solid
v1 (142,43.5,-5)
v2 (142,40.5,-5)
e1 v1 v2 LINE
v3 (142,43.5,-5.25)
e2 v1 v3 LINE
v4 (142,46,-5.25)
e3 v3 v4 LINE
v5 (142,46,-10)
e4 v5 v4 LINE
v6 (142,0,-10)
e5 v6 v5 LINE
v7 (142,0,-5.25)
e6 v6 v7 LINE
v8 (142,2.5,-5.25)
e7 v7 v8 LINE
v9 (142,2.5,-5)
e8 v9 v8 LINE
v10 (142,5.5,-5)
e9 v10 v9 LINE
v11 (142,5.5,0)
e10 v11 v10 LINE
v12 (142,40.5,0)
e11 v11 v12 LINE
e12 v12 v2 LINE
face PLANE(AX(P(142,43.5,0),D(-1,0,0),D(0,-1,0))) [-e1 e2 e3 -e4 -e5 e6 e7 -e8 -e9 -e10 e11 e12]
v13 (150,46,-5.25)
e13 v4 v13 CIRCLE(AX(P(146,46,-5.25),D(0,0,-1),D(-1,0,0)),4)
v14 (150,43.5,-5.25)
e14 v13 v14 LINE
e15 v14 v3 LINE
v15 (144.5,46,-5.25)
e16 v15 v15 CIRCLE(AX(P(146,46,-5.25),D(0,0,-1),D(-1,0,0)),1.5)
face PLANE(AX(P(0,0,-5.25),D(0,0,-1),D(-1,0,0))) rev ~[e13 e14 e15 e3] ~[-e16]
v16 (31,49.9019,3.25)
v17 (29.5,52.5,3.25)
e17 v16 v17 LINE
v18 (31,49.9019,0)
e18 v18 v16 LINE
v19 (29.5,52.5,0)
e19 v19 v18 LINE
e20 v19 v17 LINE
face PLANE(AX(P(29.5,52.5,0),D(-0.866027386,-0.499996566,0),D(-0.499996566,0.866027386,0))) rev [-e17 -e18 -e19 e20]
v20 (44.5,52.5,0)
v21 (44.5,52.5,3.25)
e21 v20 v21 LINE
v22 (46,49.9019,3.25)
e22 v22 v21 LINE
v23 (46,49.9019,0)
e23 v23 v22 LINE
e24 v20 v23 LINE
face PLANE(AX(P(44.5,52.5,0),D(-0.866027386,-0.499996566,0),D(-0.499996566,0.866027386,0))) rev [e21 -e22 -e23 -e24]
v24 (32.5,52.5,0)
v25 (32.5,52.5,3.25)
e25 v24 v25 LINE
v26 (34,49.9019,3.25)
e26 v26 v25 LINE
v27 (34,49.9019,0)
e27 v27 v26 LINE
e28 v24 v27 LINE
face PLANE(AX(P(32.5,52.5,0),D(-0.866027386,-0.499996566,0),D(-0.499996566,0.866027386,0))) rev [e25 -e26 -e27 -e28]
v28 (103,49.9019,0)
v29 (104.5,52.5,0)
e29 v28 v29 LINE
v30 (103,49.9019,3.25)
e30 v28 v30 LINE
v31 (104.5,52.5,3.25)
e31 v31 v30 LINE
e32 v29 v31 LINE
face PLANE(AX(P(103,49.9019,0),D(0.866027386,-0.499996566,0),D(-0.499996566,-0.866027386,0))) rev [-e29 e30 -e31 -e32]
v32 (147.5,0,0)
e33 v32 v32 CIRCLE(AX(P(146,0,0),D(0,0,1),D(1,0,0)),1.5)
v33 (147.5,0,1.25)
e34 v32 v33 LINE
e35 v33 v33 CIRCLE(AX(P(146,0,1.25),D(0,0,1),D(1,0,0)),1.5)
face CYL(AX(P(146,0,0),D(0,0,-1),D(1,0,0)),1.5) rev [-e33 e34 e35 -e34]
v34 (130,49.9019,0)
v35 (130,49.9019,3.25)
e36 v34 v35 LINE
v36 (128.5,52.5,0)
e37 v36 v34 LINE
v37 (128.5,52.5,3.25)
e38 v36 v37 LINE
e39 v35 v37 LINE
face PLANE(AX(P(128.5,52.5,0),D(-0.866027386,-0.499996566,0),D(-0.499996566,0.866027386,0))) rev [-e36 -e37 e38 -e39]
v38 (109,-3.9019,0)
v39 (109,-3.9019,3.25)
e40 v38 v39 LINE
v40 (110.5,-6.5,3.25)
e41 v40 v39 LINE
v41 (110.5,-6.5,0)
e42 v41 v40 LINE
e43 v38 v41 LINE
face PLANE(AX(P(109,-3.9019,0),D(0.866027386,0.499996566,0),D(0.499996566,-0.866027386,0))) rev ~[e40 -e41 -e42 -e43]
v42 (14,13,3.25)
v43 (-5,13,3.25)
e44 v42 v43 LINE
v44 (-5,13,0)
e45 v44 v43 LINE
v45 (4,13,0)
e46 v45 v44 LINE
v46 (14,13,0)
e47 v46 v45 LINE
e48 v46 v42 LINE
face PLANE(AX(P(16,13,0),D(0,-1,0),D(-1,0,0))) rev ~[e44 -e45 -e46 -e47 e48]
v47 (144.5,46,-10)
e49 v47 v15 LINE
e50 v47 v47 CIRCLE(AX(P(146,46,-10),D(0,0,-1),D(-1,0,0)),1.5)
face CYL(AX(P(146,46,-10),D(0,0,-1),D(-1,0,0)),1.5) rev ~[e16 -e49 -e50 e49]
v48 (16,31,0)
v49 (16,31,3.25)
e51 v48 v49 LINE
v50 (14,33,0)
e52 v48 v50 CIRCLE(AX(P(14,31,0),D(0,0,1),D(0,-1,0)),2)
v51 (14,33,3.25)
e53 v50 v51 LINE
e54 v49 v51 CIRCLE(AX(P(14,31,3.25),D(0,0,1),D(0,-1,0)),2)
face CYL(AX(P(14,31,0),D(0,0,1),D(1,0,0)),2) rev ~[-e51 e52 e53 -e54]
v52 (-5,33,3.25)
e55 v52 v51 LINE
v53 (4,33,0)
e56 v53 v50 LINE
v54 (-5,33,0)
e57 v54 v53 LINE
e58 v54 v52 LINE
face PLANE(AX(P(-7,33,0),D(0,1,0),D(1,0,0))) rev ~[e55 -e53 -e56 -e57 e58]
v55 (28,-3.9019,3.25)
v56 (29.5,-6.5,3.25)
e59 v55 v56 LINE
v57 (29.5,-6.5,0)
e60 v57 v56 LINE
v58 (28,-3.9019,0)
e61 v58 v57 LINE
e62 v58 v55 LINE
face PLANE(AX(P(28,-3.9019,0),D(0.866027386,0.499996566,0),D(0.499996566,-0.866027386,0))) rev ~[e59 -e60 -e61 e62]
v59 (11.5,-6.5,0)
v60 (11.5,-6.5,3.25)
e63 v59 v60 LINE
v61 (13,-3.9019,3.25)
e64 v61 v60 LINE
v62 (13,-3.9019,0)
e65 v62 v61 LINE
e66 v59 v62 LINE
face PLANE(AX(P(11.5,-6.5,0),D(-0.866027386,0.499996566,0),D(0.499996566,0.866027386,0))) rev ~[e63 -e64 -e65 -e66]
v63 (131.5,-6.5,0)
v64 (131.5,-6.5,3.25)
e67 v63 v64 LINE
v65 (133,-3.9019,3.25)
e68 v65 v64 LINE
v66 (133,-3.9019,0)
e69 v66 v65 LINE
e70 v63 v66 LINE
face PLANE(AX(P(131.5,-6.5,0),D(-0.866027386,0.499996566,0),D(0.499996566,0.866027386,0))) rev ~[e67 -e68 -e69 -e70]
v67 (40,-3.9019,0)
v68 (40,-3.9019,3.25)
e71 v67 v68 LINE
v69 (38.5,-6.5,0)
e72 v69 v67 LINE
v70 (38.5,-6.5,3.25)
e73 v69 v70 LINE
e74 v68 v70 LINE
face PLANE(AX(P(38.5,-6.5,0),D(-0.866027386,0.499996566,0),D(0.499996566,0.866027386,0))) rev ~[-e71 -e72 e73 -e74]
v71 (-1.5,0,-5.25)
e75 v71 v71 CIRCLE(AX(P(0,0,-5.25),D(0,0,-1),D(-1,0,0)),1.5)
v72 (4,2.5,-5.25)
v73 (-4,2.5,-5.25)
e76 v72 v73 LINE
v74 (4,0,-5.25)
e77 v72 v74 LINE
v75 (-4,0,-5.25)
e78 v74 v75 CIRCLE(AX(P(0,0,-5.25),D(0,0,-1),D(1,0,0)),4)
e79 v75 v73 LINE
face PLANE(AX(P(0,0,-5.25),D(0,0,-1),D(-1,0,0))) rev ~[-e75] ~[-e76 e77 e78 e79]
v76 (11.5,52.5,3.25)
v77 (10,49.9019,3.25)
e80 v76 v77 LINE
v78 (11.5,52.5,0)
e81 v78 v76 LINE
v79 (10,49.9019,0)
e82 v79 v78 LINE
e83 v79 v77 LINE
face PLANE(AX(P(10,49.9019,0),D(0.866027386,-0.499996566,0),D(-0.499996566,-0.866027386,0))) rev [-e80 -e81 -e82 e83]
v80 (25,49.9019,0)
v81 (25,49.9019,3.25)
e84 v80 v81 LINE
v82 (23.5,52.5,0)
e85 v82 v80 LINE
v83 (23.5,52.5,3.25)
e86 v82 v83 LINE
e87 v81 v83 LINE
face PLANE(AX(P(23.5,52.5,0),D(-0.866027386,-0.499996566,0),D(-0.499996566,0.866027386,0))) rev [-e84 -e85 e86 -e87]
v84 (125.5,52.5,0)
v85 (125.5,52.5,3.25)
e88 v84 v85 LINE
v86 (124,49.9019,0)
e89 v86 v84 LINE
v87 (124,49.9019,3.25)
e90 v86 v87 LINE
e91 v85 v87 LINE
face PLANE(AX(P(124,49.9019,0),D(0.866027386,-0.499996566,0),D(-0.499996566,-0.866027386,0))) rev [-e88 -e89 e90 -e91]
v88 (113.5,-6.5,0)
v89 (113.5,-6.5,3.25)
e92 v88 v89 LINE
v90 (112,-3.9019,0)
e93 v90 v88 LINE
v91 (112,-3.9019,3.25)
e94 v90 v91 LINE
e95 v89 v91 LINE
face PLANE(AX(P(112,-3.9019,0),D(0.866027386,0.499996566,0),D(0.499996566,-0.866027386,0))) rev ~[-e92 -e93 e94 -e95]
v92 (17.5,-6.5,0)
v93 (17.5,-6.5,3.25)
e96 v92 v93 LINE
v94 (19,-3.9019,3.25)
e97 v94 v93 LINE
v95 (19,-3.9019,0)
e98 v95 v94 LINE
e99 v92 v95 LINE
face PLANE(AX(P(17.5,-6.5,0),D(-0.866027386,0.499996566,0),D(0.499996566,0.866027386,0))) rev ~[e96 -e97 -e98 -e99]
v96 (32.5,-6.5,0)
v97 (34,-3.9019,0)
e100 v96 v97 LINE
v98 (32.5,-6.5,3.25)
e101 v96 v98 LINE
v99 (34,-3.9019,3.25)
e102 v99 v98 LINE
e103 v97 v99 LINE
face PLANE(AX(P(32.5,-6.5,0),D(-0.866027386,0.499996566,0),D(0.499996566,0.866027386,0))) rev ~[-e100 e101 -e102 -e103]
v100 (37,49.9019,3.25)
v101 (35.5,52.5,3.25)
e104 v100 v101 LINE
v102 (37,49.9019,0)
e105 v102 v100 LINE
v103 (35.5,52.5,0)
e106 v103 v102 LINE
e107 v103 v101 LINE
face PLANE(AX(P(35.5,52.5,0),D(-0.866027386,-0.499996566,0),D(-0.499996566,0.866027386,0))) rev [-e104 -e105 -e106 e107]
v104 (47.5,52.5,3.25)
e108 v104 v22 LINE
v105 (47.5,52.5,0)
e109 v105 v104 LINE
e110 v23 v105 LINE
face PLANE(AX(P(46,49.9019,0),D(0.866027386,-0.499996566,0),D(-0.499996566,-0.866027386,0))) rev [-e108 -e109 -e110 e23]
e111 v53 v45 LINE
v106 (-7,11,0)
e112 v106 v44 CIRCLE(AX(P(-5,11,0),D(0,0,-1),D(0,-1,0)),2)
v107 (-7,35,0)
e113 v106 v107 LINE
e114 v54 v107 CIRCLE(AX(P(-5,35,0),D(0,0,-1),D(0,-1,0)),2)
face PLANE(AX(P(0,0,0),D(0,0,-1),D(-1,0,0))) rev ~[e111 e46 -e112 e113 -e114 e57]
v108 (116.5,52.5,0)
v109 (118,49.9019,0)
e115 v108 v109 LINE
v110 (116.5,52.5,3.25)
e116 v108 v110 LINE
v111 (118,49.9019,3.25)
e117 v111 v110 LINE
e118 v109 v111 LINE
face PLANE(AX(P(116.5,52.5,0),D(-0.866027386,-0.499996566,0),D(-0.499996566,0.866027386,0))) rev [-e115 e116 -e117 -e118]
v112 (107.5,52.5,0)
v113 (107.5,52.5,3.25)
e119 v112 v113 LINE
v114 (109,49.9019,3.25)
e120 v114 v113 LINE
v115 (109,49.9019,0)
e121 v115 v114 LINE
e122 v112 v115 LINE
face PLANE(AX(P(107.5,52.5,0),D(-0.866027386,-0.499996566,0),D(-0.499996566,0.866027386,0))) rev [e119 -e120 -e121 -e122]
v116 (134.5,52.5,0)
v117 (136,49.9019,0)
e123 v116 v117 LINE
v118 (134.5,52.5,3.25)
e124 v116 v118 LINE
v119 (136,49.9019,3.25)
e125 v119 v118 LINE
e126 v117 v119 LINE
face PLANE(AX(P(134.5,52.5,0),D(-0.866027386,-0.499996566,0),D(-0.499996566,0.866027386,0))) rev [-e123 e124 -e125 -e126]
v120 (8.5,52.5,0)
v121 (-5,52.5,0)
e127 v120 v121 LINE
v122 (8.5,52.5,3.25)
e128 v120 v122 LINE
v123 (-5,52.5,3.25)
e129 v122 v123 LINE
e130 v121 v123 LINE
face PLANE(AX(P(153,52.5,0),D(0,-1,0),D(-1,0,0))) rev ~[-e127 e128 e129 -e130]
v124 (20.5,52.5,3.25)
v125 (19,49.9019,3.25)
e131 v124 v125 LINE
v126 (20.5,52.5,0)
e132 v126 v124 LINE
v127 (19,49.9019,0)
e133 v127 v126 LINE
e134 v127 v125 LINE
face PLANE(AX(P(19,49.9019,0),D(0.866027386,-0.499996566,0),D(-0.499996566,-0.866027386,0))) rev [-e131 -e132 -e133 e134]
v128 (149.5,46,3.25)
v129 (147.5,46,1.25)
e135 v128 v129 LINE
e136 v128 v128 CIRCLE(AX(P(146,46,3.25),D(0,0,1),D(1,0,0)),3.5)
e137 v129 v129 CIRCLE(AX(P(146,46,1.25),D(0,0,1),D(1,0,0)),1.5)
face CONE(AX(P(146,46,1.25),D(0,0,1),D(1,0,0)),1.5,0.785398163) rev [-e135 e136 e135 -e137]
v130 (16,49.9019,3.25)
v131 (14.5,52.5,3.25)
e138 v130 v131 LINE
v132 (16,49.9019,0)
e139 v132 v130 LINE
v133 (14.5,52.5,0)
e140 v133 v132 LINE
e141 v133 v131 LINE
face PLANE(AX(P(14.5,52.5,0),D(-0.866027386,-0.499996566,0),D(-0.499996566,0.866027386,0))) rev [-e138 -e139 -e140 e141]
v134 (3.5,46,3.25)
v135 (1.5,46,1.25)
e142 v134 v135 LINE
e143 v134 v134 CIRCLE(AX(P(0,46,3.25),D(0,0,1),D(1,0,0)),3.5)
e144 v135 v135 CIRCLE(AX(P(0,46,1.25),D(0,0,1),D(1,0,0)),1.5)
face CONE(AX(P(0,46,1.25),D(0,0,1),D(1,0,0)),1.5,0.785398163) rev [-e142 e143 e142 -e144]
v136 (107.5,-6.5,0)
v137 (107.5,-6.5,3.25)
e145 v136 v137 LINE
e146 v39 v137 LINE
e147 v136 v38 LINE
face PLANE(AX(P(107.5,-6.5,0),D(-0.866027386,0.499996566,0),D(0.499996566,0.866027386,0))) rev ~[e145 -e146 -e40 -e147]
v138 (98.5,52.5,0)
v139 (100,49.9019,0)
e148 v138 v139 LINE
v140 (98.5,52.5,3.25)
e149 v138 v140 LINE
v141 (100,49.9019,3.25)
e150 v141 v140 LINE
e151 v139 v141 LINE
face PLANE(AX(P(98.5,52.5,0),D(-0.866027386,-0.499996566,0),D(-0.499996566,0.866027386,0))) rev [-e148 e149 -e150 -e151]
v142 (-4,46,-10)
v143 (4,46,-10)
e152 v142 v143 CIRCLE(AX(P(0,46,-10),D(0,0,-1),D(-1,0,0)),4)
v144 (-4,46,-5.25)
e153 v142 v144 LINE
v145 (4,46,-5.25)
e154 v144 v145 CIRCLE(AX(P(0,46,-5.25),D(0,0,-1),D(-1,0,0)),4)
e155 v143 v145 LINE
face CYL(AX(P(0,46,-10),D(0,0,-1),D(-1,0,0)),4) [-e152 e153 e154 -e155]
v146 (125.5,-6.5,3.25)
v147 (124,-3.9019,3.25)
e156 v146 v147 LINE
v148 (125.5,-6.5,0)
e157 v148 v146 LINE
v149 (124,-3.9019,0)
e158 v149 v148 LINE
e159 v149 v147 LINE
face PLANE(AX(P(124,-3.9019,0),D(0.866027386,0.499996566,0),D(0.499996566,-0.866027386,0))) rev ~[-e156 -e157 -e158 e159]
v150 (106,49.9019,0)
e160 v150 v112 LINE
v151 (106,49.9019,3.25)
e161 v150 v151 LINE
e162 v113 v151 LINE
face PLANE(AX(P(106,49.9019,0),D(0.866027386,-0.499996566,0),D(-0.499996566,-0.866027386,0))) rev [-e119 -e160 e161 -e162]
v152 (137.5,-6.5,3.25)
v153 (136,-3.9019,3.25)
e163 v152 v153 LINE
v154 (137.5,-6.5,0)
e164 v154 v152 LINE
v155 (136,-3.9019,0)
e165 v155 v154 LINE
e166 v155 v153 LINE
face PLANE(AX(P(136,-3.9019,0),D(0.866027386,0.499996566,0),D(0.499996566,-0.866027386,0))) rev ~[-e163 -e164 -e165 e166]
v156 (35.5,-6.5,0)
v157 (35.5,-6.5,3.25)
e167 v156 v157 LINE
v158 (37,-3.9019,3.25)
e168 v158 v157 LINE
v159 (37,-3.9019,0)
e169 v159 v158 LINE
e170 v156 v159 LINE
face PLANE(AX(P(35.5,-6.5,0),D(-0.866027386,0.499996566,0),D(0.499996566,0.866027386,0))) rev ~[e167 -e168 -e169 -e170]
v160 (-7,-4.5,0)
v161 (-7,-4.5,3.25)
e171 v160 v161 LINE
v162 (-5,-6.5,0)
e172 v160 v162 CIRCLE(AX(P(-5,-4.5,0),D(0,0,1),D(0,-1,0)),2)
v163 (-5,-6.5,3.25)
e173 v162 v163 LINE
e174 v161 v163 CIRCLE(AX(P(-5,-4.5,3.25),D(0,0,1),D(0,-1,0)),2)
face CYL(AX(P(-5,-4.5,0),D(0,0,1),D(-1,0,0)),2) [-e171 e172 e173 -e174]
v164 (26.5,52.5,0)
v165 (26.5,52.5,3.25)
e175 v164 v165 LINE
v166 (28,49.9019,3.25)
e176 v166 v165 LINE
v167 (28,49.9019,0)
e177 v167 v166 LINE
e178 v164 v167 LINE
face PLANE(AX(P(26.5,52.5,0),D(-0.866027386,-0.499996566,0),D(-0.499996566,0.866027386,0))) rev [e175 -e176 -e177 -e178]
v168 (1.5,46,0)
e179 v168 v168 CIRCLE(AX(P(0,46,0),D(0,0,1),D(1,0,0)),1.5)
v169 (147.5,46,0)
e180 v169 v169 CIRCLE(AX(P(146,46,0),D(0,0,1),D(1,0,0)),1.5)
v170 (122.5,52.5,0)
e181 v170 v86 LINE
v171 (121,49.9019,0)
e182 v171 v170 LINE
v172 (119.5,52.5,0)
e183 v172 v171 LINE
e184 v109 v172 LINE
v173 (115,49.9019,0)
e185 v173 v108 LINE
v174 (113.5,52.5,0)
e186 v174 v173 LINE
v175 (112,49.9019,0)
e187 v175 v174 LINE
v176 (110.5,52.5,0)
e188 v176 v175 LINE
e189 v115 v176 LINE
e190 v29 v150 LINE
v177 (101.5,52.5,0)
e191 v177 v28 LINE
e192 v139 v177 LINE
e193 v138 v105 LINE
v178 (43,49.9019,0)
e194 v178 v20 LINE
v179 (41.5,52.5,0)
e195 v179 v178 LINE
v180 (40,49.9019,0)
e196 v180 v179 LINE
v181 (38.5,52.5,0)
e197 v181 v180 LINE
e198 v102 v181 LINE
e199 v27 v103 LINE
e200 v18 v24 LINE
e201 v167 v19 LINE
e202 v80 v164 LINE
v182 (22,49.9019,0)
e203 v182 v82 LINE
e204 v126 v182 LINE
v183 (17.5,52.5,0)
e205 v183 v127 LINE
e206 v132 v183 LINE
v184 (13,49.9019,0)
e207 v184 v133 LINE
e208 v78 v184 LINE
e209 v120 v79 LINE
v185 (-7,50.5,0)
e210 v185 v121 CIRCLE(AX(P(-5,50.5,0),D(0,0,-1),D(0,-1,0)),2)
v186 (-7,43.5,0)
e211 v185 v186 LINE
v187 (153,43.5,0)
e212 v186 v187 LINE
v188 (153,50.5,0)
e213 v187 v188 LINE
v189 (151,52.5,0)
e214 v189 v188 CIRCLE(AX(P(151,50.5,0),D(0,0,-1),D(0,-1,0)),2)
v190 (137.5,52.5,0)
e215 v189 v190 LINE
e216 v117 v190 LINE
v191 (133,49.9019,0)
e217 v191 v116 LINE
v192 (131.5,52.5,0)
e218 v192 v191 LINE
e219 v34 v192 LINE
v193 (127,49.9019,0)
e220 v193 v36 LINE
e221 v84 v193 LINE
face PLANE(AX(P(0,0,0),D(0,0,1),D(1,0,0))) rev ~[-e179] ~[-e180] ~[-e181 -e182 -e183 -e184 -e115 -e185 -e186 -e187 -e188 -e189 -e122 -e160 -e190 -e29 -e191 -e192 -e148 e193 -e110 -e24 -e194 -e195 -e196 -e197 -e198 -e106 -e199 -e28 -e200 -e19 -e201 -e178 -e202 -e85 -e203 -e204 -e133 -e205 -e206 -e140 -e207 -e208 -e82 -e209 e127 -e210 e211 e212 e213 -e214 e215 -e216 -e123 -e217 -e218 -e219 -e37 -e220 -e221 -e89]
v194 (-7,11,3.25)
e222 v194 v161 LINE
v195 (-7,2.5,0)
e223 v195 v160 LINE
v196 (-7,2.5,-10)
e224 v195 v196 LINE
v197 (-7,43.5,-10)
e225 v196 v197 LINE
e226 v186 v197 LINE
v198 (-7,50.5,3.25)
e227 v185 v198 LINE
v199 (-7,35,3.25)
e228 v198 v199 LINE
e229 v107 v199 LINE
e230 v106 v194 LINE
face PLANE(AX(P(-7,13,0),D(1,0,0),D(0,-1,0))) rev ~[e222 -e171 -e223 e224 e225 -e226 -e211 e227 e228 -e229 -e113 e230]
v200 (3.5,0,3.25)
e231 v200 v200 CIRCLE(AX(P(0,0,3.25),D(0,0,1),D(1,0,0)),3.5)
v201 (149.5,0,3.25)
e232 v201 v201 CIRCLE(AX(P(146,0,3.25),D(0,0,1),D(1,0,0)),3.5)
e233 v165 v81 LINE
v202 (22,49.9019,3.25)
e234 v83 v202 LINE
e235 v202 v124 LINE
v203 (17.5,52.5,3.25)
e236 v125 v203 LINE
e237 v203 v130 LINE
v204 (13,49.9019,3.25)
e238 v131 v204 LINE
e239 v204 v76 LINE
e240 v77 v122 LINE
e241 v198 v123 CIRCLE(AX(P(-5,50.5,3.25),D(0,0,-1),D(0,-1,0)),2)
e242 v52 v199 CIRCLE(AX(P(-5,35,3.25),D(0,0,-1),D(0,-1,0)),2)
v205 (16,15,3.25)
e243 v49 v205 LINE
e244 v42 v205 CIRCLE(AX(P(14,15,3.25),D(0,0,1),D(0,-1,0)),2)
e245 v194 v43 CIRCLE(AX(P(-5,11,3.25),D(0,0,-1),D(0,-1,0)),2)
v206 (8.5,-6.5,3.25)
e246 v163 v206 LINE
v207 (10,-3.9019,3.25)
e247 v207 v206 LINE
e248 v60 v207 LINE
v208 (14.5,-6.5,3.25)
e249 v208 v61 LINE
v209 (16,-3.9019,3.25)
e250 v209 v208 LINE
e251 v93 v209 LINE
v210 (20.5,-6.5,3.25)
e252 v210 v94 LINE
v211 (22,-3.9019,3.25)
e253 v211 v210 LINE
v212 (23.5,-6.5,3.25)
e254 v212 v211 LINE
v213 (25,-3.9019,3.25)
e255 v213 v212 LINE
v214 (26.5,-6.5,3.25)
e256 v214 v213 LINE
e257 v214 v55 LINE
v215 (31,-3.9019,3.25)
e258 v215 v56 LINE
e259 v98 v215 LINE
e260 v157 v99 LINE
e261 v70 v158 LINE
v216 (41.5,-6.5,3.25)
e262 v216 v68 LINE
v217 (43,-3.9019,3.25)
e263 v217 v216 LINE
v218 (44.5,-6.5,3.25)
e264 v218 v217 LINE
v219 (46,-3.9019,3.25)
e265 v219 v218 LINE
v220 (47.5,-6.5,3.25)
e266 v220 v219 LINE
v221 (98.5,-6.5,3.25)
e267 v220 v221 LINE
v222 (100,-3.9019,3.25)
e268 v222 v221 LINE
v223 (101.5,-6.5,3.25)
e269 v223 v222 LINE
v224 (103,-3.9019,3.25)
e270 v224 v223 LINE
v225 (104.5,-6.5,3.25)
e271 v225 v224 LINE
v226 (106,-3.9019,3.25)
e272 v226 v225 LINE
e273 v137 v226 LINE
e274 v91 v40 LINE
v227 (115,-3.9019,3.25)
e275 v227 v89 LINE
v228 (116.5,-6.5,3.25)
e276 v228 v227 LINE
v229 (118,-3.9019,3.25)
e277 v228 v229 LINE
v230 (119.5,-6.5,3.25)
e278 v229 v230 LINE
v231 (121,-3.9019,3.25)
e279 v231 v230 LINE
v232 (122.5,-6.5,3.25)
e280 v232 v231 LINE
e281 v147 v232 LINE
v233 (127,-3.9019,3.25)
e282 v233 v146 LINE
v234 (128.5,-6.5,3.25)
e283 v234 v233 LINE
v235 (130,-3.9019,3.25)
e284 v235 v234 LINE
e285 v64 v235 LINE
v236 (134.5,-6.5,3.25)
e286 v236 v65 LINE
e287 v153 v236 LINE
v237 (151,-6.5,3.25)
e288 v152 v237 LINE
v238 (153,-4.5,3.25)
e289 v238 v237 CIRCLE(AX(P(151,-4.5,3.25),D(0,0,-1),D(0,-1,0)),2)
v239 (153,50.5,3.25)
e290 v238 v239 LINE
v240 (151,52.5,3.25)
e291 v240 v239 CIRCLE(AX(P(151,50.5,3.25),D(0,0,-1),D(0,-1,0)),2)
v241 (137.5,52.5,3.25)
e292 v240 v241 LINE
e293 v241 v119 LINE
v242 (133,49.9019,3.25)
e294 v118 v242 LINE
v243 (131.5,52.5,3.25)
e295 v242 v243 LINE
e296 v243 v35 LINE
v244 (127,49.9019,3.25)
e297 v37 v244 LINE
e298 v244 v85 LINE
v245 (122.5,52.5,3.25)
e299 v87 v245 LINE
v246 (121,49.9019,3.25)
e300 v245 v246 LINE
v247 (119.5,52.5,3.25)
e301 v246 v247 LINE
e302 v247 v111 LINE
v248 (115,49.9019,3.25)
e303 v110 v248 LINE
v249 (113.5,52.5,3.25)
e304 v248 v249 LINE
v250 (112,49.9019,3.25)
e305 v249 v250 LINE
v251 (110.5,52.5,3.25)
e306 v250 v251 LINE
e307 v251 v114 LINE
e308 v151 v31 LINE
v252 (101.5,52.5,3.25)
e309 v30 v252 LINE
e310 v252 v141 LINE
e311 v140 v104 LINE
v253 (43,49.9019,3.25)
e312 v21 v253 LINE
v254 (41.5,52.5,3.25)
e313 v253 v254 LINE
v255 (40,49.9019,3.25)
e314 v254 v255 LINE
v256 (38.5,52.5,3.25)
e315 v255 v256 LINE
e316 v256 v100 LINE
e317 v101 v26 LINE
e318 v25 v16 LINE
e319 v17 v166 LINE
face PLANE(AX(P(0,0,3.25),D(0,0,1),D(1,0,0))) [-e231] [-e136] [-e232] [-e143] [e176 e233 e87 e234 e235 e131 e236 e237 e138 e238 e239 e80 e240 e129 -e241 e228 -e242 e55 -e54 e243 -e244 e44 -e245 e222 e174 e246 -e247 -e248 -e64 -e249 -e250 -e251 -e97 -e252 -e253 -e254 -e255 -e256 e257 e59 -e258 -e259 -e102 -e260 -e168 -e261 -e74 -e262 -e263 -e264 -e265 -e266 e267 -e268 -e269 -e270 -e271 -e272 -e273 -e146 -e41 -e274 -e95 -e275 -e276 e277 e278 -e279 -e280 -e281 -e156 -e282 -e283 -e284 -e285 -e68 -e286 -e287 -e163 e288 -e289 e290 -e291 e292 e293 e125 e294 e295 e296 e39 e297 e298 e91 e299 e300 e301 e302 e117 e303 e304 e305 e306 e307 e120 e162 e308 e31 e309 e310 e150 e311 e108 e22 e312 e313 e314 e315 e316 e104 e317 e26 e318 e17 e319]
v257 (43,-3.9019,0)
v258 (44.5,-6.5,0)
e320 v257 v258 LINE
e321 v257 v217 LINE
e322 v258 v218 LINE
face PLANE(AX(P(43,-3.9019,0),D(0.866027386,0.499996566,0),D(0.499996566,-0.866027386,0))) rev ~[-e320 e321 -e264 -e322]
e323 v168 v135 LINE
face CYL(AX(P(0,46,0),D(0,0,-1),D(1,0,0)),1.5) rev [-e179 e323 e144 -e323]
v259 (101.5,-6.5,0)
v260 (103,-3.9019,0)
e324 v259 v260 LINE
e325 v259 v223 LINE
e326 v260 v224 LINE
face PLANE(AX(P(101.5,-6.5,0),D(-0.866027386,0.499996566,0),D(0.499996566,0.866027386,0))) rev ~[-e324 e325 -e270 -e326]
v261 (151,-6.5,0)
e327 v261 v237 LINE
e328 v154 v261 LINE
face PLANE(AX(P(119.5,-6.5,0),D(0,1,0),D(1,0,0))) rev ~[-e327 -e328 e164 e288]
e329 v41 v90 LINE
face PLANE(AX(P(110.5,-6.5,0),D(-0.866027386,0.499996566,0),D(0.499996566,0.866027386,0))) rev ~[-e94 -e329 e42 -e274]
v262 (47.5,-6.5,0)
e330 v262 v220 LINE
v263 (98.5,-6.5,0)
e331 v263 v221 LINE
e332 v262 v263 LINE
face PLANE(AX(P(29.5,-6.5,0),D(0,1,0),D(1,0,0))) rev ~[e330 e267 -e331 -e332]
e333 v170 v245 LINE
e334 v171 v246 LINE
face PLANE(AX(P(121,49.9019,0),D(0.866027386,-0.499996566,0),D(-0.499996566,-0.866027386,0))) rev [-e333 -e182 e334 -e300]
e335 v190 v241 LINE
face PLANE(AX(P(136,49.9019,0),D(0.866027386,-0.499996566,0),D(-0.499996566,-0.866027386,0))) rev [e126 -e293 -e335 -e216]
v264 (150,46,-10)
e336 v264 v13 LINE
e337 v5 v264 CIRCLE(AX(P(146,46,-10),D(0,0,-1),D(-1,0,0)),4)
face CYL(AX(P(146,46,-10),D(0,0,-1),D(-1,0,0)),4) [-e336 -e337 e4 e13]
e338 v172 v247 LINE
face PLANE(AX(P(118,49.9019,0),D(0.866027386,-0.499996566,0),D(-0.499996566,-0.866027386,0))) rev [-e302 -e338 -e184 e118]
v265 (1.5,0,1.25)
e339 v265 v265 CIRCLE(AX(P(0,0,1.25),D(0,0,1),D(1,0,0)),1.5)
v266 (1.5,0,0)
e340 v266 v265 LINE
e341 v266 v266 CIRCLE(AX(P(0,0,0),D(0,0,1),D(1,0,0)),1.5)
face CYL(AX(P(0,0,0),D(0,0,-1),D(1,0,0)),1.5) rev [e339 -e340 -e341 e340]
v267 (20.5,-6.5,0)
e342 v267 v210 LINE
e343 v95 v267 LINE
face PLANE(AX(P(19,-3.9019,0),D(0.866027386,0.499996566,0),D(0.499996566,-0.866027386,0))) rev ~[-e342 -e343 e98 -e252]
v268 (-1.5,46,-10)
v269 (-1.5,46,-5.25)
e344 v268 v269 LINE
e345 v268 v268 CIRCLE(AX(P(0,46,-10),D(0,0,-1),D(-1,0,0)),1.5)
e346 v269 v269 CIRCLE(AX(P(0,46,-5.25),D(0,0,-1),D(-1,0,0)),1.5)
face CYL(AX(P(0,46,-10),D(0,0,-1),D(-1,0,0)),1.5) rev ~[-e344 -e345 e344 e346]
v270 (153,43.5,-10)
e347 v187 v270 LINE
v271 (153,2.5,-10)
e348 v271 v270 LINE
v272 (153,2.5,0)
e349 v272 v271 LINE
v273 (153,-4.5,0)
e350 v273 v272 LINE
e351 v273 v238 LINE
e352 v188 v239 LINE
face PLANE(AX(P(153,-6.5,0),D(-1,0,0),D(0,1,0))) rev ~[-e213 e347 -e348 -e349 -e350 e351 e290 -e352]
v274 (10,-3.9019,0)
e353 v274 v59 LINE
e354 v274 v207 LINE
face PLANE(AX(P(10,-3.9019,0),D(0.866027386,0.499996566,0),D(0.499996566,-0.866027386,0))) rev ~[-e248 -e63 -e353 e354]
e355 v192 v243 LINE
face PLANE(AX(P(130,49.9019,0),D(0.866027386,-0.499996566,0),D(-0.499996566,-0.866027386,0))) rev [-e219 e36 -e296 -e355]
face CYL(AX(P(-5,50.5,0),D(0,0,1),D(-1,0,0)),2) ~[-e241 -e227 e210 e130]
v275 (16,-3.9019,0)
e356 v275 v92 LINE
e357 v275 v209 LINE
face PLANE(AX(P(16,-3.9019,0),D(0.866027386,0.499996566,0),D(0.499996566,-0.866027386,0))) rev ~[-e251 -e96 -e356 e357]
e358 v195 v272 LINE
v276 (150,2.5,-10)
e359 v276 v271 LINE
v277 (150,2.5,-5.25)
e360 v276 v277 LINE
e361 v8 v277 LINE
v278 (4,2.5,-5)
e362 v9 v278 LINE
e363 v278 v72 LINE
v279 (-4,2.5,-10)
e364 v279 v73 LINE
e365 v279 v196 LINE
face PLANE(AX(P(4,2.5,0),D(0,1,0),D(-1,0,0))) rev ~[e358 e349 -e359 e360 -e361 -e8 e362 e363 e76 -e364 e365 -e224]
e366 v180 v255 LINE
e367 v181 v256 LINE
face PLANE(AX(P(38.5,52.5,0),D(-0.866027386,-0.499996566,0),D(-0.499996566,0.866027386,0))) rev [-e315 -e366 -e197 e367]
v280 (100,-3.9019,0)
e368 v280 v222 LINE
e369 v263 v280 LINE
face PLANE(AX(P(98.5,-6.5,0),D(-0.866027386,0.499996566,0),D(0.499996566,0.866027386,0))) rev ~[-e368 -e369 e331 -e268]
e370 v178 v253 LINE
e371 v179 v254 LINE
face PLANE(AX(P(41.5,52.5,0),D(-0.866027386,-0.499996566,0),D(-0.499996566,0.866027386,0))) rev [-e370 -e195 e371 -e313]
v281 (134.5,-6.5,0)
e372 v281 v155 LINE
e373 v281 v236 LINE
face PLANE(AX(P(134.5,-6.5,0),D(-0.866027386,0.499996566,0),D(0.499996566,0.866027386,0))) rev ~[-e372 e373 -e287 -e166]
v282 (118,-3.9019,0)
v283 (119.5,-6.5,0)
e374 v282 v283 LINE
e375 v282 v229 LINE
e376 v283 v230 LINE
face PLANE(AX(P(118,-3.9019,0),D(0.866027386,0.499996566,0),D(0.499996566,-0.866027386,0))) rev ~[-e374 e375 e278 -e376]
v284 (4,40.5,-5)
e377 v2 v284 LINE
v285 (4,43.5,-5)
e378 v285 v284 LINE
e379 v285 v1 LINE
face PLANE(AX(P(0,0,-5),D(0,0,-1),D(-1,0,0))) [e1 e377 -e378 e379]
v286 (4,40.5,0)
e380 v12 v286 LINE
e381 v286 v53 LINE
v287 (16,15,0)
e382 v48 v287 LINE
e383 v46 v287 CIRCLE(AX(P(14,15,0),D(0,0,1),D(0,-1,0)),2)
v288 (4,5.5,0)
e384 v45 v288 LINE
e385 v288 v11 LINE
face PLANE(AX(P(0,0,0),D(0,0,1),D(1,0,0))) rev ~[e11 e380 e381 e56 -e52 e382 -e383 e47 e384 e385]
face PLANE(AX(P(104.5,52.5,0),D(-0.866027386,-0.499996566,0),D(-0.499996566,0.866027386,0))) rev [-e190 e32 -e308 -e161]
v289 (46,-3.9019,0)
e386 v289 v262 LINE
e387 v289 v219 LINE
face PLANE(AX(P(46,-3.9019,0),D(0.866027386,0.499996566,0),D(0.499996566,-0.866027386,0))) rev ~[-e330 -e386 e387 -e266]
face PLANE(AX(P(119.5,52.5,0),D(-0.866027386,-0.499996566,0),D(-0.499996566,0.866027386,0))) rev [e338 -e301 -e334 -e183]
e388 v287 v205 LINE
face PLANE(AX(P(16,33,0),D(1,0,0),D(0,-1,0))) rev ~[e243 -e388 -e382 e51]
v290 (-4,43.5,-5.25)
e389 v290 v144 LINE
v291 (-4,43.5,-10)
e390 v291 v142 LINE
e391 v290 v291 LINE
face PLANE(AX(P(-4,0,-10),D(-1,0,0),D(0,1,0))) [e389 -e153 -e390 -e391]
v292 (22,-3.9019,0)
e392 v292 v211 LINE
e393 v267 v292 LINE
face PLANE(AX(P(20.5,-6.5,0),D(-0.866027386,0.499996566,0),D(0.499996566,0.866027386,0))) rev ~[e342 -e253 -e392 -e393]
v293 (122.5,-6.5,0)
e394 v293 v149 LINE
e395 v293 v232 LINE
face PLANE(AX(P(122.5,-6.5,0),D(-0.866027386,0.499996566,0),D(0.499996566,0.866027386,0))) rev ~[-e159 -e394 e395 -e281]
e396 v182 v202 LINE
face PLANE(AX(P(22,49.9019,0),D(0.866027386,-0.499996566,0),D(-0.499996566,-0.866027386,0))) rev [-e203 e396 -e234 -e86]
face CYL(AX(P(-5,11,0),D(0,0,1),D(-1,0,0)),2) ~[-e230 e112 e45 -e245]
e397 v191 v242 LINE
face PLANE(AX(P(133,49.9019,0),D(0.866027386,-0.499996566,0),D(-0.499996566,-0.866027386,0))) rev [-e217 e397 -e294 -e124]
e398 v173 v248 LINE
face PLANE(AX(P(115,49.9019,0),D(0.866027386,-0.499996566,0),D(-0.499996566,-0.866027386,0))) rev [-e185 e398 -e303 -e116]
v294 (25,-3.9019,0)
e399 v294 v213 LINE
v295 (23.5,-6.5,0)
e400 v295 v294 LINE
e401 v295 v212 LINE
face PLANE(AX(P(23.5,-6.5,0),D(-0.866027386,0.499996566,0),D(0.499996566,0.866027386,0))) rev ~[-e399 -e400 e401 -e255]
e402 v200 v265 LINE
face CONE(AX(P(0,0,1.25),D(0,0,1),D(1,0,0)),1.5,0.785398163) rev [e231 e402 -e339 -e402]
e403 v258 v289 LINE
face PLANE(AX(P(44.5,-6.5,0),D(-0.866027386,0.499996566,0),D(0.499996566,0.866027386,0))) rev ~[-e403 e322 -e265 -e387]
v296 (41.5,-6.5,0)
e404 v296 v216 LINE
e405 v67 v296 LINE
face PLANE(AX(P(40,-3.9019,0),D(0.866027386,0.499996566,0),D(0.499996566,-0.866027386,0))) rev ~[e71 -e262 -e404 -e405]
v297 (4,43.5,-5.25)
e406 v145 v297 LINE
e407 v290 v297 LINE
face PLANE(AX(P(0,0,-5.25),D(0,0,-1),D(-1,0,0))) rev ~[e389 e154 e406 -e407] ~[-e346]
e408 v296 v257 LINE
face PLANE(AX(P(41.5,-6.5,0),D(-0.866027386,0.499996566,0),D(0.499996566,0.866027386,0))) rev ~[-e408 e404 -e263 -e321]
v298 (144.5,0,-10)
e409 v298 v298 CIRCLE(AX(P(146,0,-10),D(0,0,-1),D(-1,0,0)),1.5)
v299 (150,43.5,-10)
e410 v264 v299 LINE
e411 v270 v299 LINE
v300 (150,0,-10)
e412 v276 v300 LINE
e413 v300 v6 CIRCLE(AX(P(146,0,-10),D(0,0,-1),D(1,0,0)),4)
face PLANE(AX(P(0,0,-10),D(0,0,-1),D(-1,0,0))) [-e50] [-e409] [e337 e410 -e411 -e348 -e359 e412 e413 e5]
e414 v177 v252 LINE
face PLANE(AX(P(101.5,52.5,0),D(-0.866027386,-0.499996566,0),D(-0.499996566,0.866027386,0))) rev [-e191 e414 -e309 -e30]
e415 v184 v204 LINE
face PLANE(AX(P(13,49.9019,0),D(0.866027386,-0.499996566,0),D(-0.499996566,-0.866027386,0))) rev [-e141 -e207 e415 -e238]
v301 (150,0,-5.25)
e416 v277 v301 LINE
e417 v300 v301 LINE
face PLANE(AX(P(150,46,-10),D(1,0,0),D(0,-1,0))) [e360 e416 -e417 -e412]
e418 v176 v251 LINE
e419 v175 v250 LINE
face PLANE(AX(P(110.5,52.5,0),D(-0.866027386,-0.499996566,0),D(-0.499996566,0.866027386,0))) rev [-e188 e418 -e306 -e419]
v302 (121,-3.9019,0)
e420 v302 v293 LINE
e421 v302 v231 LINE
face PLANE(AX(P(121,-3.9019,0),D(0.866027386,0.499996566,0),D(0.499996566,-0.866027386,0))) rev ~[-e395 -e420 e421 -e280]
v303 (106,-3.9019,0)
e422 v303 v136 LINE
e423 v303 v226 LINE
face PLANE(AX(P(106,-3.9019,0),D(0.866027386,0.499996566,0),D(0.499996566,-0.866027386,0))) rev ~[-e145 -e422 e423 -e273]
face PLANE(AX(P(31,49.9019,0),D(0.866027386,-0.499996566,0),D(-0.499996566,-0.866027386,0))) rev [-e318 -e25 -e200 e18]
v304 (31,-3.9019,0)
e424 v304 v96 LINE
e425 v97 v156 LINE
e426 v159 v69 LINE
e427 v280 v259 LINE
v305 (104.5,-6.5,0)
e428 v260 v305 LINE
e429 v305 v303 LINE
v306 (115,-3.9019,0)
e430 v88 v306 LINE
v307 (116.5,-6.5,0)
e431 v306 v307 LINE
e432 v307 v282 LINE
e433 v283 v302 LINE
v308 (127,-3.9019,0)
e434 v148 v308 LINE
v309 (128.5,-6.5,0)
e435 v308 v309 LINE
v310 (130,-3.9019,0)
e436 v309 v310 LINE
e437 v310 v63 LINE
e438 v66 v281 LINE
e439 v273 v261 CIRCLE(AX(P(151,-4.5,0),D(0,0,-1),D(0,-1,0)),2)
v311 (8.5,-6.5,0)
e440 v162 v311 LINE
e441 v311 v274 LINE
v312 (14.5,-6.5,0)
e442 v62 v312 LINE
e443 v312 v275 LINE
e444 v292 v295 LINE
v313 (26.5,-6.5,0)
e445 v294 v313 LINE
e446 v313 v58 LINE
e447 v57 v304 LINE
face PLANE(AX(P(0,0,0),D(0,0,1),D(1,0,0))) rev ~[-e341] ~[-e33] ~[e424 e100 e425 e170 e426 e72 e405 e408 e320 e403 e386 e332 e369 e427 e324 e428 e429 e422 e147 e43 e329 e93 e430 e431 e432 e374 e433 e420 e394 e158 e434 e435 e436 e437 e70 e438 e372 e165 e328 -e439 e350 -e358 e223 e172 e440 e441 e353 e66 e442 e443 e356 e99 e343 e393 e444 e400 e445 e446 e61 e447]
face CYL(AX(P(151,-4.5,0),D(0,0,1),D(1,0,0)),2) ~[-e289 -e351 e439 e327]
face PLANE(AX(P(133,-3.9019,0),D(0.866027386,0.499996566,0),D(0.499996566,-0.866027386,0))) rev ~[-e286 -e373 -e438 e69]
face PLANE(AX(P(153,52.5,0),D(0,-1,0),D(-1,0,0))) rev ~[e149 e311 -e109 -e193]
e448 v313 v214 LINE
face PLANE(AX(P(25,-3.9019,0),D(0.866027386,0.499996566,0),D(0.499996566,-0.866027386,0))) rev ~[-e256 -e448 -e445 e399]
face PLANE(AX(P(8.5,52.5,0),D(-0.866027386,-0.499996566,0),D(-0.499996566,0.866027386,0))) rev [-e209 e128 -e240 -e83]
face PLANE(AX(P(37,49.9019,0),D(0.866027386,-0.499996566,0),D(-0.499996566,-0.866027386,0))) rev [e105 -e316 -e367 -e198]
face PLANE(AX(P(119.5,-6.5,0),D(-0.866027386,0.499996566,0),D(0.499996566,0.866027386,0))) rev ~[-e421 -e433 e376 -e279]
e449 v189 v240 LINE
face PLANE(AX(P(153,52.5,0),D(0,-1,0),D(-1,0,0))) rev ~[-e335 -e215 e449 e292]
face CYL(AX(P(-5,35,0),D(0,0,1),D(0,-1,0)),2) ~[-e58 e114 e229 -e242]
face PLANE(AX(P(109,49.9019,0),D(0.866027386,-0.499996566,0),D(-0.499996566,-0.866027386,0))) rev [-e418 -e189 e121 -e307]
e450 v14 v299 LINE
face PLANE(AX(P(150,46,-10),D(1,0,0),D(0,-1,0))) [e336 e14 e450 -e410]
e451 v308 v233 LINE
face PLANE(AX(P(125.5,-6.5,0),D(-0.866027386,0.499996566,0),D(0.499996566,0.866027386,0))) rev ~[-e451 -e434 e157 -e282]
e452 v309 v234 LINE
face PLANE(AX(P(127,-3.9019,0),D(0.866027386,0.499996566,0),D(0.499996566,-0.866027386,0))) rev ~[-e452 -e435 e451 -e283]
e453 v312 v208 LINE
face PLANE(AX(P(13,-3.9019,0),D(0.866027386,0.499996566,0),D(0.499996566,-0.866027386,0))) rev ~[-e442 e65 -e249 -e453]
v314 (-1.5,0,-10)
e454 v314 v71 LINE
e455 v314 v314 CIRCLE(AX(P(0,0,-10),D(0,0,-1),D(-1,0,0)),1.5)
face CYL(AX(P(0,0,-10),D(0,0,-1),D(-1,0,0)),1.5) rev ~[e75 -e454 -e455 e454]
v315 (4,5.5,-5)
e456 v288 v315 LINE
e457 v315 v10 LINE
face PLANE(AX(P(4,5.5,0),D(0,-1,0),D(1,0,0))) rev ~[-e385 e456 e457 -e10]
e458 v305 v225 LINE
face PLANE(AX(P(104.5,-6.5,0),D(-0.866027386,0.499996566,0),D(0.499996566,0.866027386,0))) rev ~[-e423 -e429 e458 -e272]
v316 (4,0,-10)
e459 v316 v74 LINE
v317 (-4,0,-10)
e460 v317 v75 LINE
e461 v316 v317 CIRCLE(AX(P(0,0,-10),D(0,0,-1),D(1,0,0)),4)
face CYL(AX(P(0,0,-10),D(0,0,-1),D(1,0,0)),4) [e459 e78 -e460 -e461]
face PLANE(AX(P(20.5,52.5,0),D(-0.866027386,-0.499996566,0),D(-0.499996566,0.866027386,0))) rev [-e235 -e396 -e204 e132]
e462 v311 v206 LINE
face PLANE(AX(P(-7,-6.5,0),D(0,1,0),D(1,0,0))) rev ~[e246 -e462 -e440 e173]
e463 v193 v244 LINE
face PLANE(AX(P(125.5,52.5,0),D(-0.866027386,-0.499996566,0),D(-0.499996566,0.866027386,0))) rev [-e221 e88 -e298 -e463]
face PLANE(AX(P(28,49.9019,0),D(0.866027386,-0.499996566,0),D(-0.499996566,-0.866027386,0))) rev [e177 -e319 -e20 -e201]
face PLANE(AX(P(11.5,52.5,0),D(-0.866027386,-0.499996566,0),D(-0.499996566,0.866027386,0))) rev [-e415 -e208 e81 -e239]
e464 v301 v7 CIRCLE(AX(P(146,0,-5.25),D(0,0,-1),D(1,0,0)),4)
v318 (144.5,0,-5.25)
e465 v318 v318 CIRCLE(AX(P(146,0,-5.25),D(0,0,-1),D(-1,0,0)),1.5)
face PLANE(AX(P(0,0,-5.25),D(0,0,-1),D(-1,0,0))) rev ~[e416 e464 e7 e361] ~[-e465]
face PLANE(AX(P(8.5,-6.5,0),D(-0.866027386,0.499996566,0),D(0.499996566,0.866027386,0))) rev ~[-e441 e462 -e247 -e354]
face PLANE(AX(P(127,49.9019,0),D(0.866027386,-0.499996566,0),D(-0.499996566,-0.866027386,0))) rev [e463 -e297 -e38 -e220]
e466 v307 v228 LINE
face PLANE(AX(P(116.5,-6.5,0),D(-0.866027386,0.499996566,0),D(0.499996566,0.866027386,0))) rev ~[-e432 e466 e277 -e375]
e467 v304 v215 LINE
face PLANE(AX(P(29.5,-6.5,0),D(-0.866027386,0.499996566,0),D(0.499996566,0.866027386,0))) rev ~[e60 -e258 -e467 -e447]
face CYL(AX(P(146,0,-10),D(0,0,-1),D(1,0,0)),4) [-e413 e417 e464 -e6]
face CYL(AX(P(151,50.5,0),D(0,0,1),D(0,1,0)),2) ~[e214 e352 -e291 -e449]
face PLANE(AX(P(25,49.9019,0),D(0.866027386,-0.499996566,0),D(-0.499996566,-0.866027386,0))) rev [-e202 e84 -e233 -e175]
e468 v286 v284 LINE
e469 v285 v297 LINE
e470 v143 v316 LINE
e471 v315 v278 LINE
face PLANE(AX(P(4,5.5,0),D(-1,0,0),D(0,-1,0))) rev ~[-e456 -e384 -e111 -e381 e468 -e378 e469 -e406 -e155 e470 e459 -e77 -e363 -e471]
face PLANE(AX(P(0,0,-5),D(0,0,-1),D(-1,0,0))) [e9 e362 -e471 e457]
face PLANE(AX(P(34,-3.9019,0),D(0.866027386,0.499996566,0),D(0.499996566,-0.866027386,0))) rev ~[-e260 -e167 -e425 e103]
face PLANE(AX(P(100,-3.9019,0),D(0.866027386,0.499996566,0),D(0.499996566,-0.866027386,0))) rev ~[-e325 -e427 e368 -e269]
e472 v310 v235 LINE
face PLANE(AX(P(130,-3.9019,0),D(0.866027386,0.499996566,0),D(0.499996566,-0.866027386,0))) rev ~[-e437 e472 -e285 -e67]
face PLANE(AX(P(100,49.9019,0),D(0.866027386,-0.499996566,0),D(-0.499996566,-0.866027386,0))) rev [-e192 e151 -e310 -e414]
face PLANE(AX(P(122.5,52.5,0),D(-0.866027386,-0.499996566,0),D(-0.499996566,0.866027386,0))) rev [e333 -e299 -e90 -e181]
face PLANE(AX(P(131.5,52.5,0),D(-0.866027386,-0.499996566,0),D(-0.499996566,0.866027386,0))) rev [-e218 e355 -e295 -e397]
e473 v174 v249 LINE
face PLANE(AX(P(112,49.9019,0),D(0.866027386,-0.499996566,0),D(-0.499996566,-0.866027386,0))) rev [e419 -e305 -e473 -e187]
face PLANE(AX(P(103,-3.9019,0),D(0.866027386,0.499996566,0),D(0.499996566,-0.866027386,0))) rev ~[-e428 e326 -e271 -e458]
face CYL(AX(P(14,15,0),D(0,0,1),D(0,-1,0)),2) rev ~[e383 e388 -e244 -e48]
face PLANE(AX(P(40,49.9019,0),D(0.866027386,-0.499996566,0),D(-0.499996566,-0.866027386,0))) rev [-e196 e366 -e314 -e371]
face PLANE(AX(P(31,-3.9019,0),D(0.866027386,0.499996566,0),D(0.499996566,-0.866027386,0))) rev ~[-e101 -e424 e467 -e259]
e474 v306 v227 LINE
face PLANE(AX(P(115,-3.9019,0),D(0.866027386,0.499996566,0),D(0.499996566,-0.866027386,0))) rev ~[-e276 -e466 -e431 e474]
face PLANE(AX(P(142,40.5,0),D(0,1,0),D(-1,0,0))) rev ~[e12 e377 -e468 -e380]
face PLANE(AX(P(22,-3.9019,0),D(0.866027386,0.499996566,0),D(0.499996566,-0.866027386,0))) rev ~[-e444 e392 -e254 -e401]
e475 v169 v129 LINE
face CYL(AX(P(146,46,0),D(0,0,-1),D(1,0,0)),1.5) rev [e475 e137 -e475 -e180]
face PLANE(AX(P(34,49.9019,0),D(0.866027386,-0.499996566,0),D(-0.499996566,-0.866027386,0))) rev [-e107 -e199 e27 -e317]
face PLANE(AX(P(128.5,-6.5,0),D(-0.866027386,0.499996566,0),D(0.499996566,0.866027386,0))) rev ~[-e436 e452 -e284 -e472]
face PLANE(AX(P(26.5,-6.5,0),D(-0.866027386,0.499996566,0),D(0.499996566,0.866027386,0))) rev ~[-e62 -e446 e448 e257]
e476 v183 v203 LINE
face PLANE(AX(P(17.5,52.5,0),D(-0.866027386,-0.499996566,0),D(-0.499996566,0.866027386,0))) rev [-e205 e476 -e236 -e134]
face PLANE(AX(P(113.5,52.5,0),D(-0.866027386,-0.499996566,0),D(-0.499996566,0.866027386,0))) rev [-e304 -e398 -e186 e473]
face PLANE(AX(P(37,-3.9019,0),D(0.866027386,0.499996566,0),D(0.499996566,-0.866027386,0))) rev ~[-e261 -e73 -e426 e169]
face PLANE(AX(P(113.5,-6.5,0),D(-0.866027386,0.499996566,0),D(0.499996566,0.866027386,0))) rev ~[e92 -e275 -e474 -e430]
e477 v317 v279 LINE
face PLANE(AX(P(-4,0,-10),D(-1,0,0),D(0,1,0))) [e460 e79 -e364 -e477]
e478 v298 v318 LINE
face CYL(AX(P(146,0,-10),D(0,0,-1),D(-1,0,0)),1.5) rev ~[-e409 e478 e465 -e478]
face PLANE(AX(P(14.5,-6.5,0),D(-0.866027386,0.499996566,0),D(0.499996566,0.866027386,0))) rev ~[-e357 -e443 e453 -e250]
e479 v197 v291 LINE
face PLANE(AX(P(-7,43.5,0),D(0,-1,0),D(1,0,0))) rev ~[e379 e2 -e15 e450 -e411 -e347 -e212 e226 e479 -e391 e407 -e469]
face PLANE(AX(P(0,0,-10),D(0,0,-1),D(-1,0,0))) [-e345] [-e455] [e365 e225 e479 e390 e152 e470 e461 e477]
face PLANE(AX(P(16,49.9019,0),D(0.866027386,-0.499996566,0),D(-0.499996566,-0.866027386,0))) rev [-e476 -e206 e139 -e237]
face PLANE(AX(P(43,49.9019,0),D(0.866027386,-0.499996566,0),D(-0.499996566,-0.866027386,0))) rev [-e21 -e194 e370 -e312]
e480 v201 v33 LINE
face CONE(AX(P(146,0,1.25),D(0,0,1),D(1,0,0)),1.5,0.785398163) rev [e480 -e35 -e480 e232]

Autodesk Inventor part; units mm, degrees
ref_plane "YZ Plane" through (0, 0, 0) normal (1, 0, 0) x (0, 1, 0)
ref_plane "XZ Plane" through (0, 0, 0) normal (0, 1, 0) x (-1, 0, 0)
ref_plane "XY Plane" through (0, 0, 0) normal (0, 0, 1) x (1, 0, 0)
sketch "Sketch1" plane through (0, 0, 0) normal (0, 0, 1) x (1, 0, 0)
  line L0 (0, 0) -> (146, 0) construction
  line L1 (146, 0) -> (146, 46) construction
  line L2 (146, 46) -> (0, 46) construction
  line L3 (0, 46) -> (0, 0) construction
  circle A0 centre (0, 46) radius 1.5
  circle A1 centre (0, 0) radius 1.5
  circle A2 centre (146, 0) radius 1.5
  circle A3 centre (146, 46) radius 1.5
  line L4 (0, 0) -> (146, 46) construction
  line L5 (-7, -6.5) -> (153, -6.5)
  line L6 (153, -6.5) -> (153, 52.5)
  line L7 (153, 52.5) -> (-7, 52.5)
  line L8 (-7, 52.5) -> (-7, -6.5)
  line L9 (-7, -6.5) -> (153, 52.5) construction
  line L10 (153, -6.5) -> (-7, 52.5) construction
  line L11 (73, 23) -> (93, 23) construction
  line L12 (73, 23) -> (73, 43) construction
  line L13 (116.5, -6.5) -> (118, -3.9019)
  line L14 (116.5, -6.5) -> (119.5, -6.5) construction
  line L15 (118, -3.9019) -> (119.5, -6.5)
  line L16 (26.5, -6.5) -> (28, -3.9019)
  line L17 (26.5, -6.5) -> (29.5, -6.5) construction
  line L18 (28, -3.9019) -> (29.5, -6.5)
  line L19 (26.5, -6.5) -> (29.5, -6.5)
  line L20 (119.5, -6.5) -> (116.5, -6.5)
  line L21 (-7, 33) -> (16, 33)
  line L22 (16, 33) -> (16, 13)
  line L23 (16, 13) -> (-7, 13)
  line L24 (-7, 13) -> (-7, 33)
  dimension "d0" = 146
  dimension "d1" = 46
  dimension "d2" = 3
  dimension "d3" = 3
  dimension "d4" = 3
  dimension "d5" = 3
  dimension "d6" = 160
  dimension "d7" = 59
  dimension "d8" = 20
  dimension "d9" = 20
  dimension "d10" = 3
  dimension "d11" = 60
  dimension "d12" = 3
  dimension "d13" = 60
  dimension "d14" = 3
  dimension "d15" = 60
  dimension "d16" = 3
  dimension "d17" = 60
  dimension "d18" = 90
  dimension "d19" = 35
  dimension "d30" = 23
  dimension "d31" = 20
  dimension "d32" = 19.5
extrude "Extrusion1" add sketch "Sketch1" along normal blind 3.25 contours L8 L23 L22 L21 L7 L6 L5 L15 L13 L18 L16
extrude "Extrusion2" cut sketch "Sketch1" along normal blind 10 contours L16 L18 L5 | L13 L15 L5
pattern_linear "Rectangular Pattern1" count 7 spacing 3 along (1, 0, 0) of "Extrusion2"
pattern_linear "Rectangular Pattern2" count 7 spacing 3 along (-1, 0, 0) of "Extrusion2"
ref_plane "Work Plane1" through (-7, 23, 0) normal (0, 1, 0) x (1, 0, 0)
mirror "Mirror1" about plane through (-7, 23, 0) normal (0, 1, 0) of "Extrusion2", "Rectangular Pattern1", "Rectangular Pattern2"
fillet "Fillet1" radius 2 8 edges at (-7, 52.5, 1.625) (-7, 13, 1.625) (-7, -6.5, 1.625) (-7, 33, 1.625) (153, 52.5, 1.625) (153, -6.5, 1.625) (16, 13, 1.625) (16, 33, 1.625)
chamfer "Chamfer1" distance 2 angle 45 4 edges at (-1.5, 46, 3.25) (-1.5, 0, 3.25) (144.5, 46, 3.25) (144.5, 0, 3.25)
sketch "Sketch3" plane through (0, 0, 0) normal (0, 0, -1) x (-1, 0, 0)
  circle A0 centre (-146, 46) radius 1.5 construction
  circle A1 centre (0, 0) radius 1.5 construction
  line L0 (-146, 46) -> (0, 46) construction
  line L1 (0, 46) -> (0, 0) construction
  line L2 (0, 0) -> (-146, 0) construction
  line L3 (-146, 0) -> (-146, 46) construction
  line L4 (-153, 43.5) -> (-142, 43.5)
  line L5 (-142, 43.5) -> (-142, 2.5)
  line L6 (-142, 2.5) -> (-153, 2.5)
  line L7 (-153, 2.5) -> (-153, 43.5)
  line L8 (7, 43.5) -> (-4, 43.5)
  line L9 (-4, 43.5) -> (-4, 2.5)
  line L10 (-4, 2.5) -> (7, 2.5)
  line L11 (7, 2.5) -> (7, 43.5)
  line L12 (-4, 43.5) -> (-142, 43.5)
  line L13 (-142, 43.5) -> (-142, 40.5)
  line L14 (-142, 40.5) -> (-4, 40.5)
  line L15 (-4, 40.5) -> (-4, 43.5)
  line L16 (-142, 2.5) -> (-4, 2.5)
  line L17 (-4, 2.5) -> (-4, 5.5)
  line L18 (-4, 5.5) -> (-142, 5.5)
  line L19 (-142, 5.5) -> (-142, 2.5)
  point P0 (-4, 40.5)
  point P1 (-4, 2.5)
  dimension "d46" = 2.5
  dimension "d47" = 2.5
  dimension "d48" = 7
  dimension "d50" = 4
  dimension "d51" = 7
  dimension "d52" = 4
  dimension "d63" = 3
  dimension "d64" = 3
extrude "Extrusion4" add sketch "Sketch3" along normal blind 10 contours L4 L5 L6 L7 | L8 L11 L10 L9
sketch "Sketch4" plane through (0, 0, -10) normal (0, 0, -1) x (-1, 0, 0)
  circle A0 centre (-146, 0) radius 1.5 projected
  circle A1 centre (-146, 46) radius 1.5 projected
  line L0 (-146, 0) -> (-146, 46) construction
  line L1 (-142, 0) -> (-142, 46)
  line L2 (-150, 46) -> (-150, 0)
  arc A2 (-150, 0) -> (-142, 0) centre (-146, 0) ccw
  arc A3 (-142, 46) -> (-150, 46) centre (-146, 46) ccw
  circle A4 centre (0, 0) radius 1.5 projected
  circle A5 centre (0, 46) radius 1.5 projected
  line L3 (0, 0) -> (0, 46) construction
  line L4 (4, 0) -> (4, 46)
  line L5 (-4, 46) -> (-4, 0)
  arc A6 (-4, 0) -> (4, 0) centre (0, 0) ccw
  arc A7 (4, 46) -> (-4, 46) centre (0, 46) ccw
  point P0 (-146, 23)
  point P1 (0, 23)
extrude "Extrusion5" add sketch "Sketch4" against normal blind 4.75
extrude "Extrusion6" add sketch "Sketch3" along normal blind 5 contours L12 L9 L14 L5 | L5 L18 L9 L16
equation "\"d19\" = -0.5 * d18 + 0.5 * d6"
equation "\"d32\" = -0.5 * d31 + 0.5 * d7"
properties part number "BatteryCarrier SlideRail ToothMountPlate" material "ABS Plastic"
